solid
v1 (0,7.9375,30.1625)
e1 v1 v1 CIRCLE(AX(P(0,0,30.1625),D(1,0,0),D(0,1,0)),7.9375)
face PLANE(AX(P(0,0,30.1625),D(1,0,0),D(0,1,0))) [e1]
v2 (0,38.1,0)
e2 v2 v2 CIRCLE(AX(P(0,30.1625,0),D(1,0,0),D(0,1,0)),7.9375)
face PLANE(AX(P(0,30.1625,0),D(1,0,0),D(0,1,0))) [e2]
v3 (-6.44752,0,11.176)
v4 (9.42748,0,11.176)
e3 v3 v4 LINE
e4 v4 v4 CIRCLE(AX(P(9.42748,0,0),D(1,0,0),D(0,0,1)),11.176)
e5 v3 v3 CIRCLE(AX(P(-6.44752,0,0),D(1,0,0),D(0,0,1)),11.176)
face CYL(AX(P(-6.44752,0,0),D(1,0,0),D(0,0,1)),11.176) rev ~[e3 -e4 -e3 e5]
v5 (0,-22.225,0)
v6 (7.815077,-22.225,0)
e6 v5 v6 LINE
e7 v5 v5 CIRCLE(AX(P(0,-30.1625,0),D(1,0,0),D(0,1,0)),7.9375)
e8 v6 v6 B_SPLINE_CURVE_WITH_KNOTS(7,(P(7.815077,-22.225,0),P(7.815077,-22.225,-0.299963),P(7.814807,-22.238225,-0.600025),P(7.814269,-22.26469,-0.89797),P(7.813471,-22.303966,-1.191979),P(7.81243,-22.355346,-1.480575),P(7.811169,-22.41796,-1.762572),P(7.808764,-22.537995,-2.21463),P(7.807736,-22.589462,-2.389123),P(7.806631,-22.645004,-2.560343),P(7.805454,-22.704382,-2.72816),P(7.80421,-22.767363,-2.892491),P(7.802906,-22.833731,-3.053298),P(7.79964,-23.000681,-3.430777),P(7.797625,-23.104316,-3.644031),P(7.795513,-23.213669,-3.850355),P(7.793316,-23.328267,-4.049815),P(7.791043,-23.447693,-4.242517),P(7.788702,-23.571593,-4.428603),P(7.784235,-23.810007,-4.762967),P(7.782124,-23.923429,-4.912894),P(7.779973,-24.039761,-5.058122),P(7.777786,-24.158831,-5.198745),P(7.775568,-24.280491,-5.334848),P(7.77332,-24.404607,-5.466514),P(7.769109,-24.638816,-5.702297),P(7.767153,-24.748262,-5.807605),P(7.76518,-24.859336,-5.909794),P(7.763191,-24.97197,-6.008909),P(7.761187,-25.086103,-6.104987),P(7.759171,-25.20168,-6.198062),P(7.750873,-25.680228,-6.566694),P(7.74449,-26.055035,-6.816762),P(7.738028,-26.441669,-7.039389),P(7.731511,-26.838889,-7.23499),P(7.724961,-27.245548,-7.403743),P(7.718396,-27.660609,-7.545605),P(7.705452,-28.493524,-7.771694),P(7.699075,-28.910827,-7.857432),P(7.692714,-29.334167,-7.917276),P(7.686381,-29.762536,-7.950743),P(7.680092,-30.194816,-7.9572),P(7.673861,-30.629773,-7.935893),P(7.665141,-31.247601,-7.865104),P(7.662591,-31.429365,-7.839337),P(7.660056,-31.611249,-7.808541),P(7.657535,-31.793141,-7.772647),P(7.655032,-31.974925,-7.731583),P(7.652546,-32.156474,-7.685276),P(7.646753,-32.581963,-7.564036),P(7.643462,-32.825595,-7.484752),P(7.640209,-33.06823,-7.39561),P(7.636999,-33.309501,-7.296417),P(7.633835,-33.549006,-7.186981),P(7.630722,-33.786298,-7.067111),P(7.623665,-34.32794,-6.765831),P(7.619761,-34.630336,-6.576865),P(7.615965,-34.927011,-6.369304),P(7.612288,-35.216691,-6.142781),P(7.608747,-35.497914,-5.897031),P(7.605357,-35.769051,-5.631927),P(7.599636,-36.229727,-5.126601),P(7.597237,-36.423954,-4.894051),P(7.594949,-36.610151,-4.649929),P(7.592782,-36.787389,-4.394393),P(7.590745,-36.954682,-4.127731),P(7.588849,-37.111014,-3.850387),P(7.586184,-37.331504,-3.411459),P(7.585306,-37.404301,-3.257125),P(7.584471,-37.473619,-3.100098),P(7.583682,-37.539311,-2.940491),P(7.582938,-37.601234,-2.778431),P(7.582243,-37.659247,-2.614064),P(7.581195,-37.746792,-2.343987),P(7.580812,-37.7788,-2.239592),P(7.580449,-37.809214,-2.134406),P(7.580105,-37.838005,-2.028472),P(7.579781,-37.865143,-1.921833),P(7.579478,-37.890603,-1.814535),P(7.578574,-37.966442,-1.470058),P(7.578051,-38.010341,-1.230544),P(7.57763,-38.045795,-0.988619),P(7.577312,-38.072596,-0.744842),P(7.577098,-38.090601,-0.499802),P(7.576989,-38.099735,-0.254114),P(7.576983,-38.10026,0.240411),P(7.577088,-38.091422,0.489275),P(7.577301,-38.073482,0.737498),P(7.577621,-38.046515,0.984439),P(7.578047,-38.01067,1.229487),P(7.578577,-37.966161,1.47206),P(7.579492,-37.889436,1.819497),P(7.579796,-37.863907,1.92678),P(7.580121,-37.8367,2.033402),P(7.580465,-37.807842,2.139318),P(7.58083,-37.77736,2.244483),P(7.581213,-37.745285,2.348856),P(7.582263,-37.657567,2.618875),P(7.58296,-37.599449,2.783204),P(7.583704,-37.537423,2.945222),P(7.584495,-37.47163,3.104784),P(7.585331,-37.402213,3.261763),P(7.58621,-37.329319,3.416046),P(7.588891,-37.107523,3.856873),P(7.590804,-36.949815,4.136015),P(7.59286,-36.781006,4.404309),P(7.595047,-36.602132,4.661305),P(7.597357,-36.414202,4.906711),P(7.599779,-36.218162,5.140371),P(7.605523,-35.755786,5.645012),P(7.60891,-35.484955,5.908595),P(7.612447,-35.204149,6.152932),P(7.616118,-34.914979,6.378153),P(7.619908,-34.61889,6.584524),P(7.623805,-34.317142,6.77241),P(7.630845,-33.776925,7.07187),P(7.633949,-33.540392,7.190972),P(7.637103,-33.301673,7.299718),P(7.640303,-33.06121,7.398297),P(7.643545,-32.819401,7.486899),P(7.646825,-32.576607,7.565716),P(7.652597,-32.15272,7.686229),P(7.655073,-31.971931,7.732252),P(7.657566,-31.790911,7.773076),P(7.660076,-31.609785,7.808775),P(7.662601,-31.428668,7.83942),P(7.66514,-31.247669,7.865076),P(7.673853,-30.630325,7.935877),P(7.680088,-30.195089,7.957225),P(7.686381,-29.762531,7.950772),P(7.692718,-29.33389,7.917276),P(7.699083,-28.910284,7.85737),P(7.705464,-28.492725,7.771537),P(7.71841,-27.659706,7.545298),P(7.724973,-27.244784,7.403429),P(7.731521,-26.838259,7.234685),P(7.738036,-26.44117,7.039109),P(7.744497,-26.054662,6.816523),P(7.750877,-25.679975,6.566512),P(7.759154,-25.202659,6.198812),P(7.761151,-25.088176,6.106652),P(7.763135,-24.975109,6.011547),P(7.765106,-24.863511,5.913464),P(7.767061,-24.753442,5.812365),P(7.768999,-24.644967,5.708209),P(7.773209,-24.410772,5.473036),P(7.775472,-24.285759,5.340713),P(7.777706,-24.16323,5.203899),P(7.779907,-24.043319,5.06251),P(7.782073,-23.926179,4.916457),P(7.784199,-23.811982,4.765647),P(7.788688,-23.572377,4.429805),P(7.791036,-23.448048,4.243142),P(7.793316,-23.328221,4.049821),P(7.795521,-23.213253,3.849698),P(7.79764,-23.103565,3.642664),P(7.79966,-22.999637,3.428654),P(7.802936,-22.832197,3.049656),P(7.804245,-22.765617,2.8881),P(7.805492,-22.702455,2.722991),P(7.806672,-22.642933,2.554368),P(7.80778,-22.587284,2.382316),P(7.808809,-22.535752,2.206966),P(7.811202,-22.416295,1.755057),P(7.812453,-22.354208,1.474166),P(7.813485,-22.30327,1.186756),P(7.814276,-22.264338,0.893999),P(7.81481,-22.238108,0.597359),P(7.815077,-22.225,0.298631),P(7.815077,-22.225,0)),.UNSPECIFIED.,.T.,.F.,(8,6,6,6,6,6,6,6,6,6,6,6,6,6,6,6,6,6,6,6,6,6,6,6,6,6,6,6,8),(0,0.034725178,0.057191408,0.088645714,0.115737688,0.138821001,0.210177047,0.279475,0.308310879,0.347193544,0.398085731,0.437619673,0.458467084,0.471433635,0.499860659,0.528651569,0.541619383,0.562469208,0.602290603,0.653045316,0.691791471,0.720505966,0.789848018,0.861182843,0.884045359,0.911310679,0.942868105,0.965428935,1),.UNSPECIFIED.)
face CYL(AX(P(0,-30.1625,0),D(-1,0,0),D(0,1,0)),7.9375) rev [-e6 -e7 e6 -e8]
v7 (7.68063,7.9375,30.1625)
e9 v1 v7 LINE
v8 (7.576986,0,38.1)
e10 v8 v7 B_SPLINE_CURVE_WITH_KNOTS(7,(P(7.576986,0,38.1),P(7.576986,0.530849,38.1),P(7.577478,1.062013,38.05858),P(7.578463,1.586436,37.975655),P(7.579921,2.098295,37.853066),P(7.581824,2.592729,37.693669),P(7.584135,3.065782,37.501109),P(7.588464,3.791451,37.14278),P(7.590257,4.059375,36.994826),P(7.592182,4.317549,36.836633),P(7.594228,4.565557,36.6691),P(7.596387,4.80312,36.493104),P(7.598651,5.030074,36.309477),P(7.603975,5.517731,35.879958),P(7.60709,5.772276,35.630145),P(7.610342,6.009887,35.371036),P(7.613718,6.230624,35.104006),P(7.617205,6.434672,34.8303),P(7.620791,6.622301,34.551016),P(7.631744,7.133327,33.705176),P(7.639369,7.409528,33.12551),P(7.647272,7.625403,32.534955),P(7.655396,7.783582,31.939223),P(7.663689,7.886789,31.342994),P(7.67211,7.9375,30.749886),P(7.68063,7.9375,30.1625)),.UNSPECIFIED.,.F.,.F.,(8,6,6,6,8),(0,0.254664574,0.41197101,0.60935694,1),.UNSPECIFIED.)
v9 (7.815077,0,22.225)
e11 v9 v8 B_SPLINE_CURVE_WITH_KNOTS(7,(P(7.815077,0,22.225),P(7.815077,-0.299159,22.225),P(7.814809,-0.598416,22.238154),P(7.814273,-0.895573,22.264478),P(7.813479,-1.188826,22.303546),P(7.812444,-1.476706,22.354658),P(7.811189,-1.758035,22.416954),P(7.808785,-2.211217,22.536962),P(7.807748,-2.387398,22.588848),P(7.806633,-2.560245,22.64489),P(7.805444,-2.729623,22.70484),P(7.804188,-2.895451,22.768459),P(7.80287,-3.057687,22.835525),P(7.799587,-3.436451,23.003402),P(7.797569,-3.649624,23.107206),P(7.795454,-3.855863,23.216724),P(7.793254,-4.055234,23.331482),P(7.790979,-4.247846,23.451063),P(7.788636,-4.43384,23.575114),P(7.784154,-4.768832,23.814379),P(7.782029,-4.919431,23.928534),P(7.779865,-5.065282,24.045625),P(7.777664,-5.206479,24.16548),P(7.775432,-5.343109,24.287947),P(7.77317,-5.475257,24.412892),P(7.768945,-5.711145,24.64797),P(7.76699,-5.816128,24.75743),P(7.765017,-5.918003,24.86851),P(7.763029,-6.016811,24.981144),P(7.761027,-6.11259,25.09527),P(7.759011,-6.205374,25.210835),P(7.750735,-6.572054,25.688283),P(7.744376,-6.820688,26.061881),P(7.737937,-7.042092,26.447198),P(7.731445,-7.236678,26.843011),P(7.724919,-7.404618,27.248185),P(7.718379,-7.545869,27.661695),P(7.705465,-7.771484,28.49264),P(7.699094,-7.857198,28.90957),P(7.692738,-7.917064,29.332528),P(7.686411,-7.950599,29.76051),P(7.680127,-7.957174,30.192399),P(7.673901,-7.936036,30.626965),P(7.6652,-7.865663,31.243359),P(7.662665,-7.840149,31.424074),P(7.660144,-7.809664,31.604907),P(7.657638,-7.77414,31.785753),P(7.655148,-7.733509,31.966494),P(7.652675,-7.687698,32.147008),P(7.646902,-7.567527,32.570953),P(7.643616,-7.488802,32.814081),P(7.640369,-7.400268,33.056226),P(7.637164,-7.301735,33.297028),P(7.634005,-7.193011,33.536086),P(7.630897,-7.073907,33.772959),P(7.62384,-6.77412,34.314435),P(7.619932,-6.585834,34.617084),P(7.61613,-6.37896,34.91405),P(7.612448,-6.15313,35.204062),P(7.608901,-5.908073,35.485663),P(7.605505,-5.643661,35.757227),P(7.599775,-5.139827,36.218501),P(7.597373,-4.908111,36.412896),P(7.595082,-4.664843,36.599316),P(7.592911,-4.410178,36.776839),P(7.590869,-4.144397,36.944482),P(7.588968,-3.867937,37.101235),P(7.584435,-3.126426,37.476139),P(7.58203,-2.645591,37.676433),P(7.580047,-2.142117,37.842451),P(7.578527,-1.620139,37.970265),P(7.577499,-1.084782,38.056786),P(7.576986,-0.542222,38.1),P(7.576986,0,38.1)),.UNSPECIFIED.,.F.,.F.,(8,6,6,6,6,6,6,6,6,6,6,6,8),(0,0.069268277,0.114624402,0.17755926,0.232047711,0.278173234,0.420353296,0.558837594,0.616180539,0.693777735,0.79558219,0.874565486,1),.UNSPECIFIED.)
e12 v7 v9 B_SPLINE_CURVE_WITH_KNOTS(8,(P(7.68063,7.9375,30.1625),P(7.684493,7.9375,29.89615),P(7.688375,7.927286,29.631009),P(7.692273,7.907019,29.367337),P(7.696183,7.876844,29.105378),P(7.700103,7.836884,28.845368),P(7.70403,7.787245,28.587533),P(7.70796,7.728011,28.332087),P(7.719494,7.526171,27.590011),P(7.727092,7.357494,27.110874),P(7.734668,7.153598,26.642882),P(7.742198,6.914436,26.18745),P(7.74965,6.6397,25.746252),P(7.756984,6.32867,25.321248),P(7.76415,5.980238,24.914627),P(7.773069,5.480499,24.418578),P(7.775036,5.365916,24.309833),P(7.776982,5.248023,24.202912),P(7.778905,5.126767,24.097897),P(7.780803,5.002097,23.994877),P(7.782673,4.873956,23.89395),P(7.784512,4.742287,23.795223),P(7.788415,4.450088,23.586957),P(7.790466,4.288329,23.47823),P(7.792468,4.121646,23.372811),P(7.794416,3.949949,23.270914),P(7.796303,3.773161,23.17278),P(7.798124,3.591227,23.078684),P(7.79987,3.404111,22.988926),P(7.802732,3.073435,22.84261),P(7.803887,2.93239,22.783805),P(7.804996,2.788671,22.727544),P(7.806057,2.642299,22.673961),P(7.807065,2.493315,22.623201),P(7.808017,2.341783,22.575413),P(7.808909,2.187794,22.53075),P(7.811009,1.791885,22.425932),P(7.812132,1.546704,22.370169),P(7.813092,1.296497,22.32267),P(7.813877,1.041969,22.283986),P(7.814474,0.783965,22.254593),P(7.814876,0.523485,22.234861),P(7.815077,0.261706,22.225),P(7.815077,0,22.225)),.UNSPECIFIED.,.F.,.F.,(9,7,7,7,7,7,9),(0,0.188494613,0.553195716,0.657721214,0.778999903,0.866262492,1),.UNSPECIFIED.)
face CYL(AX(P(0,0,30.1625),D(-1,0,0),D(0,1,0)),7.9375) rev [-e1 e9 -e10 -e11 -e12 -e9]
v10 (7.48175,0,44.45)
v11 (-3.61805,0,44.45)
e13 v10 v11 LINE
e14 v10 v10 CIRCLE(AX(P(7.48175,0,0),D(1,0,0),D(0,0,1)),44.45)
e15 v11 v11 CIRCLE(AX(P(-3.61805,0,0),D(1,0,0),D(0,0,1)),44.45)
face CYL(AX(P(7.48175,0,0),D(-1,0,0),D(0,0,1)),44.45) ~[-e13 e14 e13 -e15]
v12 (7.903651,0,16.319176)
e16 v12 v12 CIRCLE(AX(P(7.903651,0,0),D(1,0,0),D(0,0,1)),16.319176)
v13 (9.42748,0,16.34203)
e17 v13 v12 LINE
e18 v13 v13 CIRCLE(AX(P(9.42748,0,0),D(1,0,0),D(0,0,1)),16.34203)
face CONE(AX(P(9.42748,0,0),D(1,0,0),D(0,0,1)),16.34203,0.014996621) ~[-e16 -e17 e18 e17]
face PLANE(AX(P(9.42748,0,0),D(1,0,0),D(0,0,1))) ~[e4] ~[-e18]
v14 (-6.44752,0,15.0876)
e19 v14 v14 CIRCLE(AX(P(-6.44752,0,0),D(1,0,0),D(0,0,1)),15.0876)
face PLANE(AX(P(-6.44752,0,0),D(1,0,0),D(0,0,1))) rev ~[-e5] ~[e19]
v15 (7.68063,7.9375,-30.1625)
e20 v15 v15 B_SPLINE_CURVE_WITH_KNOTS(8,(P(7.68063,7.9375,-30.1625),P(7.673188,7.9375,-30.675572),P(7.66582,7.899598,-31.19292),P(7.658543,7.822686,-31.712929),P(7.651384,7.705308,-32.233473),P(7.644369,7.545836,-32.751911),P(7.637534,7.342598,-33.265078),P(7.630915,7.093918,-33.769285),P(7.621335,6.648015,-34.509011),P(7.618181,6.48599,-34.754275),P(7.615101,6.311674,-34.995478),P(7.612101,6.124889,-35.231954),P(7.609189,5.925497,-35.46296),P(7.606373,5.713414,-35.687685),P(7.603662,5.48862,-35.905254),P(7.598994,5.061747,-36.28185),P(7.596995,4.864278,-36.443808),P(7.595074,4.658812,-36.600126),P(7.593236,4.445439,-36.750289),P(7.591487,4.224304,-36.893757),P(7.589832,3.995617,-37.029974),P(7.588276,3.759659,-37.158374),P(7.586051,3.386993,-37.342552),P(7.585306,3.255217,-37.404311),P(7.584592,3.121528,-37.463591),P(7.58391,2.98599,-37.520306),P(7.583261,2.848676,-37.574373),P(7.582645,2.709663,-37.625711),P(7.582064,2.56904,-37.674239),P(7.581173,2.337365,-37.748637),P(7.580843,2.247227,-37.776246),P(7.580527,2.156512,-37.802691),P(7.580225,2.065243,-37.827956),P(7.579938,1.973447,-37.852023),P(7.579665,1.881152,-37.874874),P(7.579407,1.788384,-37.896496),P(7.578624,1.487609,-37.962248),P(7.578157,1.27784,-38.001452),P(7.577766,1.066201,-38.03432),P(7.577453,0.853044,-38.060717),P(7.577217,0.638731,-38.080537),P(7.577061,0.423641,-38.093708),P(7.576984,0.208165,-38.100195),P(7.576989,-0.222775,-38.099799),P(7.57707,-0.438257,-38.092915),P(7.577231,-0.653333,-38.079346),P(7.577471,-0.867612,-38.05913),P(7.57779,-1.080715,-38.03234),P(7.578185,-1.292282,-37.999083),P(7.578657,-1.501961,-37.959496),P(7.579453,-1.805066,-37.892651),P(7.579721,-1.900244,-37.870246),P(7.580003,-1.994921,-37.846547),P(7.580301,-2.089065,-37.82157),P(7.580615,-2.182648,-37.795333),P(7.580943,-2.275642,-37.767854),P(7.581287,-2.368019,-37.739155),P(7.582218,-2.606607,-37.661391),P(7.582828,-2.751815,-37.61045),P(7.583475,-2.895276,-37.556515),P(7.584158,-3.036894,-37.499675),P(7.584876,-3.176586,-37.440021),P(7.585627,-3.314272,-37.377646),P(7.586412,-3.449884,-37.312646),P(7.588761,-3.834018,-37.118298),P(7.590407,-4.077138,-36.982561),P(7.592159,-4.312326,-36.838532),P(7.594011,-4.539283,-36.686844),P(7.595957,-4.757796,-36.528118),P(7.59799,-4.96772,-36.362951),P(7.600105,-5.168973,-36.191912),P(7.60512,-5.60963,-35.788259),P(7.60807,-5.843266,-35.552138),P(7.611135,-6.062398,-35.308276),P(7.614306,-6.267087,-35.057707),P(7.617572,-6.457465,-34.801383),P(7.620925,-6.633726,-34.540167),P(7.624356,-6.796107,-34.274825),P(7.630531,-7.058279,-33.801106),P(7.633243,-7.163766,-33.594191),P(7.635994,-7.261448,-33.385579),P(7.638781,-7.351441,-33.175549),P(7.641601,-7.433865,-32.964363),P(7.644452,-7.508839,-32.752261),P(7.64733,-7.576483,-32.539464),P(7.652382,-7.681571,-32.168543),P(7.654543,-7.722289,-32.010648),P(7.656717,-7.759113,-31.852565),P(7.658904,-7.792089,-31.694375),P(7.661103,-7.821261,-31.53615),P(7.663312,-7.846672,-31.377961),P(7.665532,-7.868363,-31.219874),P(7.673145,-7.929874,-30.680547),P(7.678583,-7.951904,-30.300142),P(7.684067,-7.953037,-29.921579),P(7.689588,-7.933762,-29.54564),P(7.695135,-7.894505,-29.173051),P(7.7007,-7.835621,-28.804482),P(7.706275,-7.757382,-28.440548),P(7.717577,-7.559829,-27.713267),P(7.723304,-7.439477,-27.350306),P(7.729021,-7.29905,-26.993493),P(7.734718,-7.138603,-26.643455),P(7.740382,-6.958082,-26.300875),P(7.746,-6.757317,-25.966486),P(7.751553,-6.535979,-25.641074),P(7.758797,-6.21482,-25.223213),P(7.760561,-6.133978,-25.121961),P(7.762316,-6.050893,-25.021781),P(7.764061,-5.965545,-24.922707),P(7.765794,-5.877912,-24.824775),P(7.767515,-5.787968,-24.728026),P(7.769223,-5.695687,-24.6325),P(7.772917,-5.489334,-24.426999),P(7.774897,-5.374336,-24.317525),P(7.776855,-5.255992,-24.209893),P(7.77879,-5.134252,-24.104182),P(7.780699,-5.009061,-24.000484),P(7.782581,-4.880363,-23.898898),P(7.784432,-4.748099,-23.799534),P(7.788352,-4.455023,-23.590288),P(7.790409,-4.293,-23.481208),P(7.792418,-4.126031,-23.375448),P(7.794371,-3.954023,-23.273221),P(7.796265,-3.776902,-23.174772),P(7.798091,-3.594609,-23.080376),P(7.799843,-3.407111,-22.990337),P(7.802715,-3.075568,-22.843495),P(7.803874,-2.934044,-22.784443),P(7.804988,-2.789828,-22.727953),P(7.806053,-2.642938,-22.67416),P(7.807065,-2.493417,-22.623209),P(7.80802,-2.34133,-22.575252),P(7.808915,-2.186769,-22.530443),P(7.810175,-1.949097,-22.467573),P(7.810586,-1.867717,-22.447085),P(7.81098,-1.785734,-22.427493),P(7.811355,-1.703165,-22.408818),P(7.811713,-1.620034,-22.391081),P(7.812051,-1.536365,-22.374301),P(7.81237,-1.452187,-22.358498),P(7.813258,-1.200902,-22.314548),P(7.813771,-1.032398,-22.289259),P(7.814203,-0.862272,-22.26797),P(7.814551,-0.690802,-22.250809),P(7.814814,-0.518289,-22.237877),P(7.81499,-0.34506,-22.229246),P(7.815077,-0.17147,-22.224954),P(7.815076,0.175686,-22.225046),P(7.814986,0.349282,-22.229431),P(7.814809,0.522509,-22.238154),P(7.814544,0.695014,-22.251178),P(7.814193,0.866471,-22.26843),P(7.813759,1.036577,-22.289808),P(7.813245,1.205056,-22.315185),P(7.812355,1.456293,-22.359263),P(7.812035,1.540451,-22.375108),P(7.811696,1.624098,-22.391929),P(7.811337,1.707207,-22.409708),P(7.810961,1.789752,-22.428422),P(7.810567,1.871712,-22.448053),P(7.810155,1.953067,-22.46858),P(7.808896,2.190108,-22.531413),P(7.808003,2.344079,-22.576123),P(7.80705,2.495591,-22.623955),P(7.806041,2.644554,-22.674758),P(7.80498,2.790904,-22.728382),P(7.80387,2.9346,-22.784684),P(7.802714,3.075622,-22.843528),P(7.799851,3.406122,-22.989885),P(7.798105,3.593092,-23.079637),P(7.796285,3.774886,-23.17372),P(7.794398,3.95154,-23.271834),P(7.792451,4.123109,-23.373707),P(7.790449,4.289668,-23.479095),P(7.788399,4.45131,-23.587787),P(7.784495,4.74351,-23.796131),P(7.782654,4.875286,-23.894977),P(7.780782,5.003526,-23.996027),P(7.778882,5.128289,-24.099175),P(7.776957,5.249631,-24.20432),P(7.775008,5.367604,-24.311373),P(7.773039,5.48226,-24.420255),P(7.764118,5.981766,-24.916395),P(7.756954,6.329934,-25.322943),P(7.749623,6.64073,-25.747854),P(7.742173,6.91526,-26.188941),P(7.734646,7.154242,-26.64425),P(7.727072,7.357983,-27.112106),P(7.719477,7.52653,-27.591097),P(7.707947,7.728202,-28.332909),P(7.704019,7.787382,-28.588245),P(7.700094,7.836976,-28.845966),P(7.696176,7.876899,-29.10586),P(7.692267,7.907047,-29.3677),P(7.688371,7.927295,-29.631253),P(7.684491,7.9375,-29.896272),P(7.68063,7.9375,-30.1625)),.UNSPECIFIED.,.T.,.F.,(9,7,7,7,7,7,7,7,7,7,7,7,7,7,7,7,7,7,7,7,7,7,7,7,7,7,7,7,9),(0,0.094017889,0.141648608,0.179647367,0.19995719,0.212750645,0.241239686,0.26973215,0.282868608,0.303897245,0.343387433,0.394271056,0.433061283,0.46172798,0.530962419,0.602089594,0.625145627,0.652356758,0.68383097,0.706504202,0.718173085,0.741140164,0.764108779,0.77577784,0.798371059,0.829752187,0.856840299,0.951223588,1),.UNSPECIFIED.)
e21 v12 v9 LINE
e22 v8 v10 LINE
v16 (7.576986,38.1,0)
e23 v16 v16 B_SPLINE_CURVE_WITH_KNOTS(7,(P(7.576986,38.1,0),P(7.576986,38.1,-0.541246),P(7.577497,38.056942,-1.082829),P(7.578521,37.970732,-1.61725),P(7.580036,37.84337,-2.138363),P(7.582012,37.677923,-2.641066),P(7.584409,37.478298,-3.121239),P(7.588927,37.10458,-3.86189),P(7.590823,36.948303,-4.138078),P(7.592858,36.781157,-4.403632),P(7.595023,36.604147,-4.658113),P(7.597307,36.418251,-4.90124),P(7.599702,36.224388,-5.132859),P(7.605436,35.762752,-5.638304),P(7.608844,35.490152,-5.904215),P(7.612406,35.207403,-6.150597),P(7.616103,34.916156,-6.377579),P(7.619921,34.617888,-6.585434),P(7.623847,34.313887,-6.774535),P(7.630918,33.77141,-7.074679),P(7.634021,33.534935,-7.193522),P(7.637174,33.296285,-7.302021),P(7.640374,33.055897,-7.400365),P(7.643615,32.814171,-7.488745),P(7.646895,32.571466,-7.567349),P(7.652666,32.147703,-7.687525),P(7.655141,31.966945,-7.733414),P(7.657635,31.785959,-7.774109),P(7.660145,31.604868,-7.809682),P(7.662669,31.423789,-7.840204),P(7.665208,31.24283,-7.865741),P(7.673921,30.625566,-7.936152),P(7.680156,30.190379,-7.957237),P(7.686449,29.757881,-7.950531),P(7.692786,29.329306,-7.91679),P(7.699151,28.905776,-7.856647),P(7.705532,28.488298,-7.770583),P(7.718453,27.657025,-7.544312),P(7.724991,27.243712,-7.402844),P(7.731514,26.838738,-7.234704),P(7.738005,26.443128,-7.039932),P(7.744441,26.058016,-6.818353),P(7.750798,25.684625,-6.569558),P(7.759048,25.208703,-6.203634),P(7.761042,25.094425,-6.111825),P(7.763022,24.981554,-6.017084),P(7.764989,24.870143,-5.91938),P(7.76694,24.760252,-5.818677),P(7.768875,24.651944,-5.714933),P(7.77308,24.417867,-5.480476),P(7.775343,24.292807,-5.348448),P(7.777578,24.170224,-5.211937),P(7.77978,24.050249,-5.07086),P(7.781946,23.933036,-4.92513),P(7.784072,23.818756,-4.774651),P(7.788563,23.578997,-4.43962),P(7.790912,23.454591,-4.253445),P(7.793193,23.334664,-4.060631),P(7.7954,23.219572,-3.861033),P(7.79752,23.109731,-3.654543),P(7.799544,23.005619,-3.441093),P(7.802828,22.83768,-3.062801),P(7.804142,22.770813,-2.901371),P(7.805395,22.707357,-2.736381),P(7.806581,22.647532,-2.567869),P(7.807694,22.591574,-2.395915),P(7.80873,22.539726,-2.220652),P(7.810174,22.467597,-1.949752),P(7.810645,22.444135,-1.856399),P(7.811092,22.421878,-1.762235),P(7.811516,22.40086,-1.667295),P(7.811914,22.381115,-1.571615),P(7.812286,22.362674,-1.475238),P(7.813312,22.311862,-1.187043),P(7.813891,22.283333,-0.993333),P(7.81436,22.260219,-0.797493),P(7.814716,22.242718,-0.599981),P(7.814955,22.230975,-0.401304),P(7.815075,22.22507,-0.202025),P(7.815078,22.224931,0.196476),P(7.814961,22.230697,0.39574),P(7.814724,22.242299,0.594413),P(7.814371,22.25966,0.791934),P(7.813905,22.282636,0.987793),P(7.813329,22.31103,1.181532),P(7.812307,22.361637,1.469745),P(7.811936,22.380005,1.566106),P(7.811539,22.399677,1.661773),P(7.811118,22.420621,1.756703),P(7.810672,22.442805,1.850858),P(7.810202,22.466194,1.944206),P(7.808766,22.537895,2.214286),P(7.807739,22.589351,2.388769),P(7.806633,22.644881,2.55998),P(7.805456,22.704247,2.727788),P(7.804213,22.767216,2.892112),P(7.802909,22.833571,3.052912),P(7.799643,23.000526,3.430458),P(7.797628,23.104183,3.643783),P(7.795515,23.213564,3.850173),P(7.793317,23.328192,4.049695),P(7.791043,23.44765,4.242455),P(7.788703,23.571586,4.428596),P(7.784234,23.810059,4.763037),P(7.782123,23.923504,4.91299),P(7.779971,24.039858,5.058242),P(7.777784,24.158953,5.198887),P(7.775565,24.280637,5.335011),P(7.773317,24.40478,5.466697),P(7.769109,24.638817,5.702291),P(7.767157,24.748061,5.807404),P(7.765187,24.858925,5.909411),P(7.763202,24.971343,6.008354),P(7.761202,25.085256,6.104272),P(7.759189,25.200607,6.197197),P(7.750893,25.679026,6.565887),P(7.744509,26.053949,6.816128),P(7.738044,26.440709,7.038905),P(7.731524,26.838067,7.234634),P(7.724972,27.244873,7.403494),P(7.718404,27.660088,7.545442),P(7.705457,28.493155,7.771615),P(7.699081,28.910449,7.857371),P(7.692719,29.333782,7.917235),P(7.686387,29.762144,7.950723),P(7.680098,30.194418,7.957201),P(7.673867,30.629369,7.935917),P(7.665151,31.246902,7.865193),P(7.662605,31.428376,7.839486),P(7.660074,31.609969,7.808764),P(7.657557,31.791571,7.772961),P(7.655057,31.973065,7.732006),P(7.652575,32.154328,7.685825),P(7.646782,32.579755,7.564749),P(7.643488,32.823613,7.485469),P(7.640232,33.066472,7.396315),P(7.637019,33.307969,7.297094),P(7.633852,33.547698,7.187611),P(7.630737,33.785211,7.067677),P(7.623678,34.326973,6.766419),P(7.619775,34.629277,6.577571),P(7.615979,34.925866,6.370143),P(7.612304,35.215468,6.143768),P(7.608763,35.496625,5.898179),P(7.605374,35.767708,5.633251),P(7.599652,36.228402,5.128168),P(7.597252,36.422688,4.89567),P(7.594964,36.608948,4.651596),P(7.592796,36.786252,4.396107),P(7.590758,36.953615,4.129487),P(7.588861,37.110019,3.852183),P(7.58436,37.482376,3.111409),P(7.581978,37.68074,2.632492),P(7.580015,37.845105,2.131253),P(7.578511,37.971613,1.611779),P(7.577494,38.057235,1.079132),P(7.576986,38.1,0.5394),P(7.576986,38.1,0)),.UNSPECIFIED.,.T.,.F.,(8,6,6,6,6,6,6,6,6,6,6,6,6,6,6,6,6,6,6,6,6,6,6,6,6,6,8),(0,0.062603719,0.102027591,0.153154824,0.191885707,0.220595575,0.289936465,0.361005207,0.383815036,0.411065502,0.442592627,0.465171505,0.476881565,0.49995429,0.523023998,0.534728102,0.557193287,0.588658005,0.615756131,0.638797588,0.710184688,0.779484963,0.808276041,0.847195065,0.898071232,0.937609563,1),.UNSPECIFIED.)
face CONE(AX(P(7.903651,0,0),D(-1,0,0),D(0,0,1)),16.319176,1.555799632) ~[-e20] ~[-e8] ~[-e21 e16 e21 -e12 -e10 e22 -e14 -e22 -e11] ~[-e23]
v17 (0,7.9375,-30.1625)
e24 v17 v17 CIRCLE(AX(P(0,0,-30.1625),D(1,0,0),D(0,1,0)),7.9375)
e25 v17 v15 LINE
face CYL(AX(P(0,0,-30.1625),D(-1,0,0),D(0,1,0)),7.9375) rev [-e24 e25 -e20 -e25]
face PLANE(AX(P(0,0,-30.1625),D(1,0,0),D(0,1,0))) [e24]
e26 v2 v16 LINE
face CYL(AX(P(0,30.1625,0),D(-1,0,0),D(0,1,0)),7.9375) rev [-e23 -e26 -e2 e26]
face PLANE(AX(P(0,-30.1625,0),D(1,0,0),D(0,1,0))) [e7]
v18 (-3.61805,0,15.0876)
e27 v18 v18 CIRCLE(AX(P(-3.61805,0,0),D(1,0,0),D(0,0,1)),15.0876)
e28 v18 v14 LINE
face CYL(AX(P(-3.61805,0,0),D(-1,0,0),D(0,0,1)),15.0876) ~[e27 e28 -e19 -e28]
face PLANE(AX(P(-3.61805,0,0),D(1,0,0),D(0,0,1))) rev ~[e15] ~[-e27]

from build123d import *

# Parameters (mm, degrees)
F2_R     = 7.9375
F3_DEPTH = 9.42848


with BuildPart() as f1:
    # F0 (on Front) → F1 (revolve)
    with BuildSketch(Plane.XZ):
        Polygon((-6.44752, 15.0876), (-6.44752, 11.176), (9.42748, 11.176), (9.42748, 16.34203), (7.903651, 16.319176), (7.48175, 44.45), (-3.61805, 44.45), (-3.61805, 15.0876), align=None)
    revolve(axis=Axis((0.264553, 0, 0), (1, 0, 0)))

    # F2 (on Right) → F3 (cut, through all)
    with BuildSketch(Plane.YZ):
        with Locations((0, 30.1625)):
            Circle(F2_R)
        with Locations((-30.1625, 0)):
            Circle(F2_R)
        with Locations((0, -30.1625)):
            Circle(F2_R)
        with Locations((30.1625, 0)):
            Circle(F2_R)
    extrude(amount=F3_DEPTH, mode=Mode.SUBTRACT)


solid = f1.part
